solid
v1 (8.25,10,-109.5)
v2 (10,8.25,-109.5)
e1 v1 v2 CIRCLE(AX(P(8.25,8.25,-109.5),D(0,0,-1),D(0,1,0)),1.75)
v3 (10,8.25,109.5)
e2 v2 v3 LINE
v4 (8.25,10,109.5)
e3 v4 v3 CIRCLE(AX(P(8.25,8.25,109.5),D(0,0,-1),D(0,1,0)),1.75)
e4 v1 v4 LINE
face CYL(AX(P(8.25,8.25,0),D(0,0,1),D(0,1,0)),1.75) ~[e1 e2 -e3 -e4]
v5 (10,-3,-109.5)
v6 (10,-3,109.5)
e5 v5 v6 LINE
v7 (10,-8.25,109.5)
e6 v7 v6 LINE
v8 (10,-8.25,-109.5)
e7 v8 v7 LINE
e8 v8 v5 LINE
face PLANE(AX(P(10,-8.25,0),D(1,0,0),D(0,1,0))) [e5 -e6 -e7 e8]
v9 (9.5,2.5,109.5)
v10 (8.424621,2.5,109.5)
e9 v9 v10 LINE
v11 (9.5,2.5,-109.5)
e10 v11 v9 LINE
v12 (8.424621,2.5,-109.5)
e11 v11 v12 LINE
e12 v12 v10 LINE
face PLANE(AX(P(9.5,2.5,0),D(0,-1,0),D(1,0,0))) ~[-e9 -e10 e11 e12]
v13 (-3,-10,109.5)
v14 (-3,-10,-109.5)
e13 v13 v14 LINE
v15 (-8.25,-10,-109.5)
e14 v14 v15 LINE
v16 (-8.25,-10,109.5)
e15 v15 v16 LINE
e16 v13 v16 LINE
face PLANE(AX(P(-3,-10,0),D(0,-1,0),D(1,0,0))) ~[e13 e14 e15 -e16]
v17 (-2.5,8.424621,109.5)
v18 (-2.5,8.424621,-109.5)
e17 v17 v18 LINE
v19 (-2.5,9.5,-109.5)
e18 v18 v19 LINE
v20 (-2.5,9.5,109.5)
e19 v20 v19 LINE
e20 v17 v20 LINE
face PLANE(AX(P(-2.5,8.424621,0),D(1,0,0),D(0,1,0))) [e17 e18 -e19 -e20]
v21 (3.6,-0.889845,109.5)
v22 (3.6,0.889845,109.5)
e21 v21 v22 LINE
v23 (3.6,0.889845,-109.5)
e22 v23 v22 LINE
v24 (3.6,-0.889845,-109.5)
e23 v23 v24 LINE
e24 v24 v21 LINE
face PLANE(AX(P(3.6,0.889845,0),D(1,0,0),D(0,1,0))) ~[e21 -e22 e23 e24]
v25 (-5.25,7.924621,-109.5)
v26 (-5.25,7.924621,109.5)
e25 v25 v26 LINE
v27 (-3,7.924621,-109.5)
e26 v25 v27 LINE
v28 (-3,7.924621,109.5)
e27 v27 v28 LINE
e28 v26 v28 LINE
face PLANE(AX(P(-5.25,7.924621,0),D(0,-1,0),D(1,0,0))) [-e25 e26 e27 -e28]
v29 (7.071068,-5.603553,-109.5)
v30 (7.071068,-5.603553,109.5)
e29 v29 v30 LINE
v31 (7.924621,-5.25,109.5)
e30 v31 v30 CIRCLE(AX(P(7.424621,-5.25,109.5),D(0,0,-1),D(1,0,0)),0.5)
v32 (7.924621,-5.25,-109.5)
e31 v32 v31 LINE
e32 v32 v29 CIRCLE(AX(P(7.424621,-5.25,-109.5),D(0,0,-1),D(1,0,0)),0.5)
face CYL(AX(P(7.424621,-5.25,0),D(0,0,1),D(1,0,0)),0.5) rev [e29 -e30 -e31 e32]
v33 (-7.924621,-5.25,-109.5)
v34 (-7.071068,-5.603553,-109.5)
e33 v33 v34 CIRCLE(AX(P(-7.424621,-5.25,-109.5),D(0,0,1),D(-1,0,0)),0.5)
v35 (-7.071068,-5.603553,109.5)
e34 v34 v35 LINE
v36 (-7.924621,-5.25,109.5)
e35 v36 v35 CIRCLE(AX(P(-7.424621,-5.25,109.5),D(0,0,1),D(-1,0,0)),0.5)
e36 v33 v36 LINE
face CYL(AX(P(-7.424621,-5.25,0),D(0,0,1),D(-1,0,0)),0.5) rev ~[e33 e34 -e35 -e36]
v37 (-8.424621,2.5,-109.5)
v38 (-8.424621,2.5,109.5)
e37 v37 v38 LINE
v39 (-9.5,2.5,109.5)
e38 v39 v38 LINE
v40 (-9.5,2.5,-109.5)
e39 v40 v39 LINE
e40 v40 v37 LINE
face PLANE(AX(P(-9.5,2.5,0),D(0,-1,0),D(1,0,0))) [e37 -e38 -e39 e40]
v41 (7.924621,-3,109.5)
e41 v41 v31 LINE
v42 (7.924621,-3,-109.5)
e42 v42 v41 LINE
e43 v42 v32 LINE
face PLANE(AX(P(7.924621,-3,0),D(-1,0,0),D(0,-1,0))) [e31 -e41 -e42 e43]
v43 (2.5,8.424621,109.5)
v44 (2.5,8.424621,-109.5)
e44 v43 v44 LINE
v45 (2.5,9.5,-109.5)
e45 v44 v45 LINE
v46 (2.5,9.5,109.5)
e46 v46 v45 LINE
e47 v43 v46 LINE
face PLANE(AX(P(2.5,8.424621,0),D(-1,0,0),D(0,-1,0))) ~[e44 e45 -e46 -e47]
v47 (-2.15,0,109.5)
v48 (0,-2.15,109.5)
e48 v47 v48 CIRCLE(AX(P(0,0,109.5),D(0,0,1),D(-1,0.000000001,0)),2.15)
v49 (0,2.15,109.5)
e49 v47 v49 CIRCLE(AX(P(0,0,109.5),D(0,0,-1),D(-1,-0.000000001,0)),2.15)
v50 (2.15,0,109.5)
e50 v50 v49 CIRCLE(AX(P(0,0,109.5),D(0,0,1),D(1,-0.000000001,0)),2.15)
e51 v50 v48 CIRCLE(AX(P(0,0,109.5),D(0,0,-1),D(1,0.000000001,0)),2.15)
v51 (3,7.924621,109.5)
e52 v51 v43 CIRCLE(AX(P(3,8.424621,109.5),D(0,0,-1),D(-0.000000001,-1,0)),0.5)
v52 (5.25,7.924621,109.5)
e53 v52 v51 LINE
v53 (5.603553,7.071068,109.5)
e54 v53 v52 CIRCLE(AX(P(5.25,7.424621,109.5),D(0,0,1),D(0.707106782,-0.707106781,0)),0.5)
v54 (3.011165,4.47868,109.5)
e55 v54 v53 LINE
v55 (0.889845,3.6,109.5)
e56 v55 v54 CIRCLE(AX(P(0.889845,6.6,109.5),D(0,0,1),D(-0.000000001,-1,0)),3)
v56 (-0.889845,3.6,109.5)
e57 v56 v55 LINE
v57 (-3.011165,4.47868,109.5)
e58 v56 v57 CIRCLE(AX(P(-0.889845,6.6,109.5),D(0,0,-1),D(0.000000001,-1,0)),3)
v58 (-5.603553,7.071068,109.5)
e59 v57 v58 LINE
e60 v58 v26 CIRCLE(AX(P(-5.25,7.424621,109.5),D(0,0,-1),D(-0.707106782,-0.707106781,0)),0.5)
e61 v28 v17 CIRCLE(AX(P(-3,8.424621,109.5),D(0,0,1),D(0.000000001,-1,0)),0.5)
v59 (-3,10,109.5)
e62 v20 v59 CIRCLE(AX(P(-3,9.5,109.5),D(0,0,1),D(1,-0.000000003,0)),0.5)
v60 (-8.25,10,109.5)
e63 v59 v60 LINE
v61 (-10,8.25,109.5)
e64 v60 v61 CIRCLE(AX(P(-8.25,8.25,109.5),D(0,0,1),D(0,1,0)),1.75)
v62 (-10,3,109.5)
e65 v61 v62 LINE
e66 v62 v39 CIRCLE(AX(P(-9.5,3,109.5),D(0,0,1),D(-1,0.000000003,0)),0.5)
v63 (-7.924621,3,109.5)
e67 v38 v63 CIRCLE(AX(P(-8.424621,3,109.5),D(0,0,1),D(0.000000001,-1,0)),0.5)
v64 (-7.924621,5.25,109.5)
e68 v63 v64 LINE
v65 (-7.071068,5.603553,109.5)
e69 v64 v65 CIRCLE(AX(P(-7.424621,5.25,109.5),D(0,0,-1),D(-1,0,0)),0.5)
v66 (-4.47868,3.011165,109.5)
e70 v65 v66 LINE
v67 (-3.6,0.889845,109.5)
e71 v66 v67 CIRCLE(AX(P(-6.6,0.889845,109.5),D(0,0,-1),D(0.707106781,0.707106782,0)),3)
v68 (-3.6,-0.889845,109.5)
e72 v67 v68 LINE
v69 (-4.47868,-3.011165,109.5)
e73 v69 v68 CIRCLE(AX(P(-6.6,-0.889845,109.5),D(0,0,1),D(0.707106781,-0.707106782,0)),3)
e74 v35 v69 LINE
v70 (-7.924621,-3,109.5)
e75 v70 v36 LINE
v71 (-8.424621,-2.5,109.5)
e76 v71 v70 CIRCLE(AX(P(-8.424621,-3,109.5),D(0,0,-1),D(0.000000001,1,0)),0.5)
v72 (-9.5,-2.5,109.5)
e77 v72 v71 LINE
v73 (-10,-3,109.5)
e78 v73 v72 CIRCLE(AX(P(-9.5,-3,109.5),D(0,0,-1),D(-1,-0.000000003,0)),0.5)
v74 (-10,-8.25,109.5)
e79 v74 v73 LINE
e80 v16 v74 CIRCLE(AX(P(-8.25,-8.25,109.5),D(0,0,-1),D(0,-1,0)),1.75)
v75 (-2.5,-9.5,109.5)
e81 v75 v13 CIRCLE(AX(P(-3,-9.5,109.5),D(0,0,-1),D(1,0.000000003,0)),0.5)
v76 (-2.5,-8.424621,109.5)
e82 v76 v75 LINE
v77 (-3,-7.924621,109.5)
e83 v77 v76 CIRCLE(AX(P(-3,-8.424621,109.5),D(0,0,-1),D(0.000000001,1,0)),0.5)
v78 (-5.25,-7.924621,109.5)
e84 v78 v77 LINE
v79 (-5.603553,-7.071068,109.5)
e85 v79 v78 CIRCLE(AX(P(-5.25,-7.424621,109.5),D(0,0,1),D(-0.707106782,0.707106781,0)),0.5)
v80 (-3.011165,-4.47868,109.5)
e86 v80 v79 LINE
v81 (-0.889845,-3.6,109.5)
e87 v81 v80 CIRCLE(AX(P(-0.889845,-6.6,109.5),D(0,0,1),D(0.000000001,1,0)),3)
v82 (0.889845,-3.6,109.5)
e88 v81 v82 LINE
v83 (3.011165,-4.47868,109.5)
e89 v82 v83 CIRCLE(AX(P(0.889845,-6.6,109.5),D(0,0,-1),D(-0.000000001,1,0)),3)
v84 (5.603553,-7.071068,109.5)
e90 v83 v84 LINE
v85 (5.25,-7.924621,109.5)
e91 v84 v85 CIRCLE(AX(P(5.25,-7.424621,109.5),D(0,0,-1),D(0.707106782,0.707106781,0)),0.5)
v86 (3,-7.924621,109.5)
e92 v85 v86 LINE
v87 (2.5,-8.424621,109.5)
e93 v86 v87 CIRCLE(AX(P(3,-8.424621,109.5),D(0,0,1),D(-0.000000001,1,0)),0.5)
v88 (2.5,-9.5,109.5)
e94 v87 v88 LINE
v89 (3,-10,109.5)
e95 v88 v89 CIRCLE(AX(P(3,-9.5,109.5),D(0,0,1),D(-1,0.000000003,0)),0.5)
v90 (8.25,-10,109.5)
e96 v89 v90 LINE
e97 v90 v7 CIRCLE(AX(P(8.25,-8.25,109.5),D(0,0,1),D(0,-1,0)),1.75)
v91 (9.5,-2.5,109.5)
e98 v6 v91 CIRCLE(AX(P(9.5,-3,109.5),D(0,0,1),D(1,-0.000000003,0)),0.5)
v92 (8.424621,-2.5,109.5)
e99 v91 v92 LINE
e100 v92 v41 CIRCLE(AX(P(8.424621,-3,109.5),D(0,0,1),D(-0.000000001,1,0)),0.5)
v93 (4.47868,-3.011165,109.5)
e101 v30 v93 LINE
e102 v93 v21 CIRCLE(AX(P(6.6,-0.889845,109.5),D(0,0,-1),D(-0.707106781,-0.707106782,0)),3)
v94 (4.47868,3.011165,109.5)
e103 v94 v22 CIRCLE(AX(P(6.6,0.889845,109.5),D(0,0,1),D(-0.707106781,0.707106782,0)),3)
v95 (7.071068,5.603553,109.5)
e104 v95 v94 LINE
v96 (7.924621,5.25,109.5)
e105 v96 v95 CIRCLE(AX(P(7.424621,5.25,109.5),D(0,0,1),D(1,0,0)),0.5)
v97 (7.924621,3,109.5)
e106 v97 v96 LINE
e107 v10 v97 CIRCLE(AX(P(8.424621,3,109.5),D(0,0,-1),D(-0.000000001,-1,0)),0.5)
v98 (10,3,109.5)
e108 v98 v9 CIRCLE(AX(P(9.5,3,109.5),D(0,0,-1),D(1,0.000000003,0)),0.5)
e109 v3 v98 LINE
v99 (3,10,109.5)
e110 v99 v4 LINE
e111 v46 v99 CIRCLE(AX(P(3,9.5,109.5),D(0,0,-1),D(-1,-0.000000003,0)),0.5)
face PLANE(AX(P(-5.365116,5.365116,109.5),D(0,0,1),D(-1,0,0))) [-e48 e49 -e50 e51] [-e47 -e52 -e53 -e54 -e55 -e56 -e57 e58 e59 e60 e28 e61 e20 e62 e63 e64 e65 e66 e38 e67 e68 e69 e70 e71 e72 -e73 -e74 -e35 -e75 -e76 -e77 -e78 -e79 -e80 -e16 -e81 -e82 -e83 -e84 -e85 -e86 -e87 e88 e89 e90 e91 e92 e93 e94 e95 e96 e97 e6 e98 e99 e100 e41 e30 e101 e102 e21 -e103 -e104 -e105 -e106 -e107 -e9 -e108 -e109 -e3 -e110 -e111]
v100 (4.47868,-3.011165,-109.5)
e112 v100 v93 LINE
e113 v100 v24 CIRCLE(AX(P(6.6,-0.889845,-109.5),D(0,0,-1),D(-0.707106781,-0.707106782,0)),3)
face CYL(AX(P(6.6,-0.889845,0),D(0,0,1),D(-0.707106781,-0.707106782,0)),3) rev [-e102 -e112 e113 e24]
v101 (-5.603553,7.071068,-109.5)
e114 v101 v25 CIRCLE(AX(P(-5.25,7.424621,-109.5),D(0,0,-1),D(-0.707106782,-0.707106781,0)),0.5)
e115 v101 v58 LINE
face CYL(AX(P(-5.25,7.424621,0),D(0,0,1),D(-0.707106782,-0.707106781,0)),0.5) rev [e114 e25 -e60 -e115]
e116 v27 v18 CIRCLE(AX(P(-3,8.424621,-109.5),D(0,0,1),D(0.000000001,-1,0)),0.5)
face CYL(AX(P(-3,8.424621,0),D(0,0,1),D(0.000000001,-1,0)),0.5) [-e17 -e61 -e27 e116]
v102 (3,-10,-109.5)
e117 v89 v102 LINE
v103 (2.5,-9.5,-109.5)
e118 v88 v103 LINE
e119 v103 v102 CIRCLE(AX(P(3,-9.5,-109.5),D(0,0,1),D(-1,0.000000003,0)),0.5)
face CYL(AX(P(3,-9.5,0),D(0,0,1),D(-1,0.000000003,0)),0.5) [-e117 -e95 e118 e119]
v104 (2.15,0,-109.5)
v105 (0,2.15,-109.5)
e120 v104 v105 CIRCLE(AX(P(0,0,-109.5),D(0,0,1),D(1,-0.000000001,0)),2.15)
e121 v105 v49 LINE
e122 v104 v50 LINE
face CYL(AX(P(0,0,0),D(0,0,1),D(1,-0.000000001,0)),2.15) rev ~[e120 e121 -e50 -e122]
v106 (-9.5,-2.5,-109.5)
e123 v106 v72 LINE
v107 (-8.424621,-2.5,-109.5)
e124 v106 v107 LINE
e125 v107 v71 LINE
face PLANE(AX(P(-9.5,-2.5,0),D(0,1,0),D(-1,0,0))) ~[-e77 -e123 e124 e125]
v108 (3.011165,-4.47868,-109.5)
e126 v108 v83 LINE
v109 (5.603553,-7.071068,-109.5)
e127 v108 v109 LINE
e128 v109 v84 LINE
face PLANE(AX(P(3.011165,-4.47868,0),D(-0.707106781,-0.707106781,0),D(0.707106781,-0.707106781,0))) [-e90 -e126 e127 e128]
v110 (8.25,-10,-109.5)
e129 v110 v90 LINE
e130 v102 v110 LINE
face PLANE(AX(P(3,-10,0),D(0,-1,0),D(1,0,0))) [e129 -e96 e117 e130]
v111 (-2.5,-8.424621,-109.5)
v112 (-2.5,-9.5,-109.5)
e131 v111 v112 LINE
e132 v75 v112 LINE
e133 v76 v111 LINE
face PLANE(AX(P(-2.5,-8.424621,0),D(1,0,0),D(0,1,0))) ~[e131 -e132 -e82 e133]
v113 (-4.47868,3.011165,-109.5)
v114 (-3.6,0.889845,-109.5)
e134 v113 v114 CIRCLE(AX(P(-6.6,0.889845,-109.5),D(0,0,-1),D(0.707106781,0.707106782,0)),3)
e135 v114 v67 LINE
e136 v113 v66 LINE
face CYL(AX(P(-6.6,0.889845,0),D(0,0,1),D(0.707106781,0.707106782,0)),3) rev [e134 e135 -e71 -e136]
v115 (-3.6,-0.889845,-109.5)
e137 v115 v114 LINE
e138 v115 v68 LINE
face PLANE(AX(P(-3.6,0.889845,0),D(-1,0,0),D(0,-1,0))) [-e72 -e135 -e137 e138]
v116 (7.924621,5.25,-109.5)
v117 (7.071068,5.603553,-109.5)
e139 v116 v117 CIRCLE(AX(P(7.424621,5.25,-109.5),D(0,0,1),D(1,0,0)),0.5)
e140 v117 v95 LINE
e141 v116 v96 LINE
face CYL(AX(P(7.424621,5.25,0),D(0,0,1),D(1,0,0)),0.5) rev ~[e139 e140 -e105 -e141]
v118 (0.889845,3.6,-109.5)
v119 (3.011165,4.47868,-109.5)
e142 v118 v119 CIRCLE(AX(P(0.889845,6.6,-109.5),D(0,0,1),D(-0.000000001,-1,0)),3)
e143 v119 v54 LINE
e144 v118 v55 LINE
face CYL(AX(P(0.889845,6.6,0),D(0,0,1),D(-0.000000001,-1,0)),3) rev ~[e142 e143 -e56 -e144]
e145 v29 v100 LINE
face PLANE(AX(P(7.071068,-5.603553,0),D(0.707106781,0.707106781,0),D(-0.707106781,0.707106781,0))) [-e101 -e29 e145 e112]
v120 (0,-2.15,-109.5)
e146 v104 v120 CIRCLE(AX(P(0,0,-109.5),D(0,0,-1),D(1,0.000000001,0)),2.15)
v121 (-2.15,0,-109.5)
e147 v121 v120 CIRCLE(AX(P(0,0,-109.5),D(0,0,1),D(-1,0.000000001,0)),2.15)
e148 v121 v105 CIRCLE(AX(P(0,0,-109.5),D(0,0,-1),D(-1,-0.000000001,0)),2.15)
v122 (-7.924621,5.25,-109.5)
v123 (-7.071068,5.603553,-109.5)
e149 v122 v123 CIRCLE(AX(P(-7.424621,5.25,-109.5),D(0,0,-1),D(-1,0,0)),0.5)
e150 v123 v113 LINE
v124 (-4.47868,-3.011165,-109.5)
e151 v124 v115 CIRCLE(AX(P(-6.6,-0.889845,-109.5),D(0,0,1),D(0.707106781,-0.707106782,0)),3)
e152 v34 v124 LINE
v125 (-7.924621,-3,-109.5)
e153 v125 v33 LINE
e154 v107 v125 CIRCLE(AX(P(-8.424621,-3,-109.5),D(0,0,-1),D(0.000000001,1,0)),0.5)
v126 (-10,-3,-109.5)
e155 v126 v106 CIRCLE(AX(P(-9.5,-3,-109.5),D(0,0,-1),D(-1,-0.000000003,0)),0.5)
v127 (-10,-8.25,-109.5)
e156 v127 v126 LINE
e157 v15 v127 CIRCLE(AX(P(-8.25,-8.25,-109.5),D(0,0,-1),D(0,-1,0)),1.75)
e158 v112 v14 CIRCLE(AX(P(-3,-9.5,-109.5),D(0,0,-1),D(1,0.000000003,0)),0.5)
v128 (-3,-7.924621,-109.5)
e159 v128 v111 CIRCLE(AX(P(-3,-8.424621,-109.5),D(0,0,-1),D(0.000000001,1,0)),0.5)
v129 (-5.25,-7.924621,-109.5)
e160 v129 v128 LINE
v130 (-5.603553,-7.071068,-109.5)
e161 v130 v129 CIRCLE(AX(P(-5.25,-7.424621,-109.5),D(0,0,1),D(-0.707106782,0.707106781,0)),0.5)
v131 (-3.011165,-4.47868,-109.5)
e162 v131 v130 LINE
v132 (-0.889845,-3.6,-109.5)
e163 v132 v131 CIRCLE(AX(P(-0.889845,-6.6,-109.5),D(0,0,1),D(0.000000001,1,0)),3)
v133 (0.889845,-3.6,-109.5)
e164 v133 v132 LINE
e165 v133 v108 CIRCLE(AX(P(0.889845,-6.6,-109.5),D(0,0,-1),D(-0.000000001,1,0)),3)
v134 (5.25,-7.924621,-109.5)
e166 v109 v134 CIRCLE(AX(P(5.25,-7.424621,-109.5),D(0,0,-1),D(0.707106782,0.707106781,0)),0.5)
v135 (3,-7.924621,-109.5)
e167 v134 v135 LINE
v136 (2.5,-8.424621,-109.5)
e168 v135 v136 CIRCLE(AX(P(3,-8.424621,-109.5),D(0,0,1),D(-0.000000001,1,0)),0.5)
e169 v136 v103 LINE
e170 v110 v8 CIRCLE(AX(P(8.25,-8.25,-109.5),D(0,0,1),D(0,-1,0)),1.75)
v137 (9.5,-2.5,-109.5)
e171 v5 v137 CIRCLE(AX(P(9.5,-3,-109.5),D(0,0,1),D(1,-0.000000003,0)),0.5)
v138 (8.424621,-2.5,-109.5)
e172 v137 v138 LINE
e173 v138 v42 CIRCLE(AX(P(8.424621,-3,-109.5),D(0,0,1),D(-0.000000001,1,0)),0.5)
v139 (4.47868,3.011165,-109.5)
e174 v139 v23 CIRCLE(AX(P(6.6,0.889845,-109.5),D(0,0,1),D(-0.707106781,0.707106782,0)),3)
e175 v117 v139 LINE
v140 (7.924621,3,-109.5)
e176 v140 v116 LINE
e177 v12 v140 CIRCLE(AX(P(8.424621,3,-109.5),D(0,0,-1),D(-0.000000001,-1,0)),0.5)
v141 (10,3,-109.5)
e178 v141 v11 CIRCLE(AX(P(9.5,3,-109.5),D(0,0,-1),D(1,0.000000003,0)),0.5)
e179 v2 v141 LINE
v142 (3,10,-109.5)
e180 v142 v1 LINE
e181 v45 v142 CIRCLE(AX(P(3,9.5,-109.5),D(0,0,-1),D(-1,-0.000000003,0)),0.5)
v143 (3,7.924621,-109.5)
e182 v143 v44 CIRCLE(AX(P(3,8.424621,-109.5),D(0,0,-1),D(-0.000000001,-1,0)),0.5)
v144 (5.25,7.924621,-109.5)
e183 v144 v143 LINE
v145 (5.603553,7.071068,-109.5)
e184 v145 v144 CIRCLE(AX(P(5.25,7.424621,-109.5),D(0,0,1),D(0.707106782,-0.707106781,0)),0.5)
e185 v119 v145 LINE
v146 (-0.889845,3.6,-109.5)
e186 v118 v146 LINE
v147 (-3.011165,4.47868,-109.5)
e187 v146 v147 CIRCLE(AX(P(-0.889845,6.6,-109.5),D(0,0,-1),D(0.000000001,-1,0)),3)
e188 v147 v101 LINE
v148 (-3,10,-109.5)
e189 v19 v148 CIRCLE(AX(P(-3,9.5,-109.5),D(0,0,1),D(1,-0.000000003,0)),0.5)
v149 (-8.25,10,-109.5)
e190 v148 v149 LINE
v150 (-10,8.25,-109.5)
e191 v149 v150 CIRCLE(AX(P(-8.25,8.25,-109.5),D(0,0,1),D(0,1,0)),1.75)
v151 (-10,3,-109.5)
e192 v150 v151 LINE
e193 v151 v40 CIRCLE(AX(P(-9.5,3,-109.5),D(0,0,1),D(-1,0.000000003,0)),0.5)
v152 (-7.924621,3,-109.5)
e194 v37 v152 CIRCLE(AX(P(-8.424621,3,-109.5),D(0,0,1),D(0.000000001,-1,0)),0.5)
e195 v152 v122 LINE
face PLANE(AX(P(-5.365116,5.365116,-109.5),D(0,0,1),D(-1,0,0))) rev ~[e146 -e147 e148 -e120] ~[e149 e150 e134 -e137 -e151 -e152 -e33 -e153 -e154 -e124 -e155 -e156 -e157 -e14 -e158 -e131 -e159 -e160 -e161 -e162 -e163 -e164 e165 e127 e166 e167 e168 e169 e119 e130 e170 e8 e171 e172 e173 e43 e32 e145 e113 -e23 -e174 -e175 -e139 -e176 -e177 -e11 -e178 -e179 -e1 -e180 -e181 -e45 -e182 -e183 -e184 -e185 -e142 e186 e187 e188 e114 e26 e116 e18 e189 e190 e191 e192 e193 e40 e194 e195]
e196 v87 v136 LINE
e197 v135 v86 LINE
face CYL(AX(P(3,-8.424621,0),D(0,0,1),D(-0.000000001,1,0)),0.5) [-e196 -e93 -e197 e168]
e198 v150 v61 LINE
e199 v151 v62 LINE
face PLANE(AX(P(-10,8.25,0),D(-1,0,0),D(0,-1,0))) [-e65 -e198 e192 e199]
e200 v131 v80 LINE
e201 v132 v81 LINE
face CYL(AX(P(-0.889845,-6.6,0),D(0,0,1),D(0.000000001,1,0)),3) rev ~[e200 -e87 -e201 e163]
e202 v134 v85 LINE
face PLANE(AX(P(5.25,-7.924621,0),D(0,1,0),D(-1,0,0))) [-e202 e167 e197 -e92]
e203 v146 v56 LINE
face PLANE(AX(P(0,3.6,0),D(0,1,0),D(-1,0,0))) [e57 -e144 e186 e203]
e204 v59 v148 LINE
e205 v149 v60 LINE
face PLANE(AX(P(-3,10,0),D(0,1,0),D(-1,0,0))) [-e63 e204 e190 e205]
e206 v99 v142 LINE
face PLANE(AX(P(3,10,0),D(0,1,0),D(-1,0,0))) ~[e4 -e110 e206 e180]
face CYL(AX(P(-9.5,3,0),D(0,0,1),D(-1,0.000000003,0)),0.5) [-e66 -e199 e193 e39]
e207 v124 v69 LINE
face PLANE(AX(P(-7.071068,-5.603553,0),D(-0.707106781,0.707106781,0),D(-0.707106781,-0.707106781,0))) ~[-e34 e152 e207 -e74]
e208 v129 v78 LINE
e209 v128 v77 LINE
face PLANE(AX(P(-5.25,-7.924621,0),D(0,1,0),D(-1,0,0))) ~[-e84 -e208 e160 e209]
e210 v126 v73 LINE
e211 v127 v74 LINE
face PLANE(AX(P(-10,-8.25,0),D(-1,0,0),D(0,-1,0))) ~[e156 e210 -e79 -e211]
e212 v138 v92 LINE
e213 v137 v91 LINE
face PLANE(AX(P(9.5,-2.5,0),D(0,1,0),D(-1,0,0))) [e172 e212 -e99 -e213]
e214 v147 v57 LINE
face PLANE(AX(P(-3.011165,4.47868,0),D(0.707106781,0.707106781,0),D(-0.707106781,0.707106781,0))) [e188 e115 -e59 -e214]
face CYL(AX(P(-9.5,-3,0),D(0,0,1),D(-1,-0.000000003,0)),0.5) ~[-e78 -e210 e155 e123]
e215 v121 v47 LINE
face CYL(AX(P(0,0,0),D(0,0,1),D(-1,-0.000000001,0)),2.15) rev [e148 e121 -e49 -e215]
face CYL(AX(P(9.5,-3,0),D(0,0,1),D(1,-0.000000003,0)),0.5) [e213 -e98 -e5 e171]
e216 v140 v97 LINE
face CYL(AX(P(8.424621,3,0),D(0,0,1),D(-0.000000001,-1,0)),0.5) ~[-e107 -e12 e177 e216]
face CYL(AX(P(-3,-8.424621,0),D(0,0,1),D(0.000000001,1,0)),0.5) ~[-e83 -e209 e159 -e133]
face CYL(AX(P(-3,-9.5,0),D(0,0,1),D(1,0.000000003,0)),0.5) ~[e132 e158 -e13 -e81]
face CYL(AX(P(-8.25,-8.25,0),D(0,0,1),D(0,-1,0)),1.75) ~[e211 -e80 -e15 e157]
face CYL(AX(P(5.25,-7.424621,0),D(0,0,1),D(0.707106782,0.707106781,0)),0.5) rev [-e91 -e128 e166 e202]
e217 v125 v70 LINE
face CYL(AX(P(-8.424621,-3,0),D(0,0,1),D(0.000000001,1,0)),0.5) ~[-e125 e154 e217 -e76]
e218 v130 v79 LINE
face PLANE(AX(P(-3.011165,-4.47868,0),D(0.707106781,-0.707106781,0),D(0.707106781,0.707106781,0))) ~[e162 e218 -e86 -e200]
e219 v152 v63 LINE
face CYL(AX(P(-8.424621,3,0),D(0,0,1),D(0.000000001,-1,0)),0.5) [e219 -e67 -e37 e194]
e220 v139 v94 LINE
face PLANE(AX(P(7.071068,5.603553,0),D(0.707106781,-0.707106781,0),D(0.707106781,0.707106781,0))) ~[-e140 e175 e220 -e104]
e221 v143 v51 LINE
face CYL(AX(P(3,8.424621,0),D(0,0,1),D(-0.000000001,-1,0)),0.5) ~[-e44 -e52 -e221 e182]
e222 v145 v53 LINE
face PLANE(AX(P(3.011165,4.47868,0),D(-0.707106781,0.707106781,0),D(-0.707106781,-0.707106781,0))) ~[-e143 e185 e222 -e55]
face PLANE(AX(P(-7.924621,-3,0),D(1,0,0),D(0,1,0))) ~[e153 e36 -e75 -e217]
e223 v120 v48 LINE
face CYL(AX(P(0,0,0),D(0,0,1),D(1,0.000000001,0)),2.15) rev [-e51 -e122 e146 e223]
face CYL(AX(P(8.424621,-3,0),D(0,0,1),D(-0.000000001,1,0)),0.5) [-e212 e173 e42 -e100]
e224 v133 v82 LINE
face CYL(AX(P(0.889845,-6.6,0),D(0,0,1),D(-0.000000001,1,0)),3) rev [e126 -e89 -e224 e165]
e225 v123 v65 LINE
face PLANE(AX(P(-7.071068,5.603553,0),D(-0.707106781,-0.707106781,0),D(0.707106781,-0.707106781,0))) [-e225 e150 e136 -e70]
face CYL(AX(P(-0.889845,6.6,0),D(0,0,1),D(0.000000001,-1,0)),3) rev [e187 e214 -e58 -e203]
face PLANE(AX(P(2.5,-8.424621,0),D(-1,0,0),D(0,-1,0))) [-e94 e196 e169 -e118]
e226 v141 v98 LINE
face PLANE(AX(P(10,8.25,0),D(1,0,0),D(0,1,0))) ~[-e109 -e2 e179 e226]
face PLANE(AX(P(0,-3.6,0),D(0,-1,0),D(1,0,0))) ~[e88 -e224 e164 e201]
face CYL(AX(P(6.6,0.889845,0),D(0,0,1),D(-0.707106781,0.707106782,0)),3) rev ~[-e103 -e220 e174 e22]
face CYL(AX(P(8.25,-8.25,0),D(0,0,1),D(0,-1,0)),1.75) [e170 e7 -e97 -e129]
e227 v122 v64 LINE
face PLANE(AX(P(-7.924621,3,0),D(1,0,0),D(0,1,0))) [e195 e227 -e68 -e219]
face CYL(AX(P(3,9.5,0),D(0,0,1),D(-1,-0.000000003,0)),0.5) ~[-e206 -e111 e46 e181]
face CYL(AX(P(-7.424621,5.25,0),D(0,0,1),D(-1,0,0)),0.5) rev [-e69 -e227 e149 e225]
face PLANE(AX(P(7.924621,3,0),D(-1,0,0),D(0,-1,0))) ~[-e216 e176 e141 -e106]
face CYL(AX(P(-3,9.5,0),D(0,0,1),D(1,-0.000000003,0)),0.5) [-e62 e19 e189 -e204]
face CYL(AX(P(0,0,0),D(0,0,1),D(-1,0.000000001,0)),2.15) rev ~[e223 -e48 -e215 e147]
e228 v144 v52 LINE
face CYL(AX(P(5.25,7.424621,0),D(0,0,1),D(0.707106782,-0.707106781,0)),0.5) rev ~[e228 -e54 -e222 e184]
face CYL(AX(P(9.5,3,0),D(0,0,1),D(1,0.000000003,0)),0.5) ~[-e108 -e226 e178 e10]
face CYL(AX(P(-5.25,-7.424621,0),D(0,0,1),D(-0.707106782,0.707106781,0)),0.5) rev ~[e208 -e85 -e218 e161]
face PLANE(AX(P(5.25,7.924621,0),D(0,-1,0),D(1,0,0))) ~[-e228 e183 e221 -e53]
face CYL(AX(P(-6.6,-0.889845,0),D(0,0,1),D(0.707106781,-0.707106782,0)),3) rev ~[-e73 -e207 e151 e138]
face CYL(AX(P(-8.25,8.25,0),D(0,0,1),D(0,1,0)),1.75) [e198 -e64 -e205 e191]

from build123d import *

# Parameters (mm, degrees)
BOSS_EXTRUDE1_DEPTH = 109.5


with BuildPart() as part:
    # Sketch4 → Boss-Extrude1 (new, symmetric)
    with BuildSketch(Plane.XY):
        with BuildLine():
            Line((3, -10), (8.25, -10))
            ThreePointArc((8.25, -10), (9.487436867, -9.487436867), (10, -8.25))
            Line((10, -8.25), (10, -3))
            ThreePointArc((10, -3), (9.853553391, -2.646446609), (9.5, -2.5))
            Line((9.5, -2.5), (8.424621202, -2.5))
            ThreePointArc((8.424621202, -2.5), (8.071067812, -2.646446609), (7.924621202, -3))
            Line((7.924621202, -3), (7.924621202, -5.25))
            ThreePointArc((7.924621202, -5.25), (7.615962919, -5.711939766), (7.071067812, -5.603553391))
            Line((7.071067812, -5.603553391), (4.478679656, -3.011165235))
            ThreePointArc((4.478679656, -3.011165235), (3.828361402, -2.037895189), (3.6, -0.889844892))
            Line((3.6, -0.889844892), (3.6, 0))
            Line((3.6, 0), (2.15, 0))
            ThreePointArc((2.15, 0), (1.52027958, -1.52027958), (0, -2.15))
            Line((0, -2.15), (0, -3.6))
            Line((0, -3.6), (0.889844892, -3.6))
            ThreePointArc((0.889844892, -3.6), (2.037895189, -3.828361402), (3.011165235, -4.478679656))
            Line((3.011165235, -4.478679656), (5.603553391, -7.071067812))
            ThreePointArc((5.603553391, -7.071067812), (5.711939766, -7.615962919), (5.25, -7.924621202))
            Line((5.25, -7.924621202), (3, -7.924621202))
            ThreePointArc((3, -7.924621202), (2.646446609, -8.071067812), (2.5, -8.424621202))
            Line((2.5, -8.424621202), (2.5, -9.5))
            ThreePointArc((2.5, -9.5), (2.646446609, -9.853553391), (3, -10))
        make_face()
    extrude(amount=BOSS_EXTRUDE1_DEPTH, both=True)

    # Mirror1: part across plane


with BuildPart() as part_1:
    add(part.part)
    add(part.part.mirror(Plane(origin=(0, 0, 0), x_dir=(0, 0, 1), z_dir=(1, 0, 0))))

    # Mirror2: part across plane


with BuildPart() as part_2:
    add(part_1.part)
    add(part_1.part.mirror(Plane.ZX))


solid = part_2.part
